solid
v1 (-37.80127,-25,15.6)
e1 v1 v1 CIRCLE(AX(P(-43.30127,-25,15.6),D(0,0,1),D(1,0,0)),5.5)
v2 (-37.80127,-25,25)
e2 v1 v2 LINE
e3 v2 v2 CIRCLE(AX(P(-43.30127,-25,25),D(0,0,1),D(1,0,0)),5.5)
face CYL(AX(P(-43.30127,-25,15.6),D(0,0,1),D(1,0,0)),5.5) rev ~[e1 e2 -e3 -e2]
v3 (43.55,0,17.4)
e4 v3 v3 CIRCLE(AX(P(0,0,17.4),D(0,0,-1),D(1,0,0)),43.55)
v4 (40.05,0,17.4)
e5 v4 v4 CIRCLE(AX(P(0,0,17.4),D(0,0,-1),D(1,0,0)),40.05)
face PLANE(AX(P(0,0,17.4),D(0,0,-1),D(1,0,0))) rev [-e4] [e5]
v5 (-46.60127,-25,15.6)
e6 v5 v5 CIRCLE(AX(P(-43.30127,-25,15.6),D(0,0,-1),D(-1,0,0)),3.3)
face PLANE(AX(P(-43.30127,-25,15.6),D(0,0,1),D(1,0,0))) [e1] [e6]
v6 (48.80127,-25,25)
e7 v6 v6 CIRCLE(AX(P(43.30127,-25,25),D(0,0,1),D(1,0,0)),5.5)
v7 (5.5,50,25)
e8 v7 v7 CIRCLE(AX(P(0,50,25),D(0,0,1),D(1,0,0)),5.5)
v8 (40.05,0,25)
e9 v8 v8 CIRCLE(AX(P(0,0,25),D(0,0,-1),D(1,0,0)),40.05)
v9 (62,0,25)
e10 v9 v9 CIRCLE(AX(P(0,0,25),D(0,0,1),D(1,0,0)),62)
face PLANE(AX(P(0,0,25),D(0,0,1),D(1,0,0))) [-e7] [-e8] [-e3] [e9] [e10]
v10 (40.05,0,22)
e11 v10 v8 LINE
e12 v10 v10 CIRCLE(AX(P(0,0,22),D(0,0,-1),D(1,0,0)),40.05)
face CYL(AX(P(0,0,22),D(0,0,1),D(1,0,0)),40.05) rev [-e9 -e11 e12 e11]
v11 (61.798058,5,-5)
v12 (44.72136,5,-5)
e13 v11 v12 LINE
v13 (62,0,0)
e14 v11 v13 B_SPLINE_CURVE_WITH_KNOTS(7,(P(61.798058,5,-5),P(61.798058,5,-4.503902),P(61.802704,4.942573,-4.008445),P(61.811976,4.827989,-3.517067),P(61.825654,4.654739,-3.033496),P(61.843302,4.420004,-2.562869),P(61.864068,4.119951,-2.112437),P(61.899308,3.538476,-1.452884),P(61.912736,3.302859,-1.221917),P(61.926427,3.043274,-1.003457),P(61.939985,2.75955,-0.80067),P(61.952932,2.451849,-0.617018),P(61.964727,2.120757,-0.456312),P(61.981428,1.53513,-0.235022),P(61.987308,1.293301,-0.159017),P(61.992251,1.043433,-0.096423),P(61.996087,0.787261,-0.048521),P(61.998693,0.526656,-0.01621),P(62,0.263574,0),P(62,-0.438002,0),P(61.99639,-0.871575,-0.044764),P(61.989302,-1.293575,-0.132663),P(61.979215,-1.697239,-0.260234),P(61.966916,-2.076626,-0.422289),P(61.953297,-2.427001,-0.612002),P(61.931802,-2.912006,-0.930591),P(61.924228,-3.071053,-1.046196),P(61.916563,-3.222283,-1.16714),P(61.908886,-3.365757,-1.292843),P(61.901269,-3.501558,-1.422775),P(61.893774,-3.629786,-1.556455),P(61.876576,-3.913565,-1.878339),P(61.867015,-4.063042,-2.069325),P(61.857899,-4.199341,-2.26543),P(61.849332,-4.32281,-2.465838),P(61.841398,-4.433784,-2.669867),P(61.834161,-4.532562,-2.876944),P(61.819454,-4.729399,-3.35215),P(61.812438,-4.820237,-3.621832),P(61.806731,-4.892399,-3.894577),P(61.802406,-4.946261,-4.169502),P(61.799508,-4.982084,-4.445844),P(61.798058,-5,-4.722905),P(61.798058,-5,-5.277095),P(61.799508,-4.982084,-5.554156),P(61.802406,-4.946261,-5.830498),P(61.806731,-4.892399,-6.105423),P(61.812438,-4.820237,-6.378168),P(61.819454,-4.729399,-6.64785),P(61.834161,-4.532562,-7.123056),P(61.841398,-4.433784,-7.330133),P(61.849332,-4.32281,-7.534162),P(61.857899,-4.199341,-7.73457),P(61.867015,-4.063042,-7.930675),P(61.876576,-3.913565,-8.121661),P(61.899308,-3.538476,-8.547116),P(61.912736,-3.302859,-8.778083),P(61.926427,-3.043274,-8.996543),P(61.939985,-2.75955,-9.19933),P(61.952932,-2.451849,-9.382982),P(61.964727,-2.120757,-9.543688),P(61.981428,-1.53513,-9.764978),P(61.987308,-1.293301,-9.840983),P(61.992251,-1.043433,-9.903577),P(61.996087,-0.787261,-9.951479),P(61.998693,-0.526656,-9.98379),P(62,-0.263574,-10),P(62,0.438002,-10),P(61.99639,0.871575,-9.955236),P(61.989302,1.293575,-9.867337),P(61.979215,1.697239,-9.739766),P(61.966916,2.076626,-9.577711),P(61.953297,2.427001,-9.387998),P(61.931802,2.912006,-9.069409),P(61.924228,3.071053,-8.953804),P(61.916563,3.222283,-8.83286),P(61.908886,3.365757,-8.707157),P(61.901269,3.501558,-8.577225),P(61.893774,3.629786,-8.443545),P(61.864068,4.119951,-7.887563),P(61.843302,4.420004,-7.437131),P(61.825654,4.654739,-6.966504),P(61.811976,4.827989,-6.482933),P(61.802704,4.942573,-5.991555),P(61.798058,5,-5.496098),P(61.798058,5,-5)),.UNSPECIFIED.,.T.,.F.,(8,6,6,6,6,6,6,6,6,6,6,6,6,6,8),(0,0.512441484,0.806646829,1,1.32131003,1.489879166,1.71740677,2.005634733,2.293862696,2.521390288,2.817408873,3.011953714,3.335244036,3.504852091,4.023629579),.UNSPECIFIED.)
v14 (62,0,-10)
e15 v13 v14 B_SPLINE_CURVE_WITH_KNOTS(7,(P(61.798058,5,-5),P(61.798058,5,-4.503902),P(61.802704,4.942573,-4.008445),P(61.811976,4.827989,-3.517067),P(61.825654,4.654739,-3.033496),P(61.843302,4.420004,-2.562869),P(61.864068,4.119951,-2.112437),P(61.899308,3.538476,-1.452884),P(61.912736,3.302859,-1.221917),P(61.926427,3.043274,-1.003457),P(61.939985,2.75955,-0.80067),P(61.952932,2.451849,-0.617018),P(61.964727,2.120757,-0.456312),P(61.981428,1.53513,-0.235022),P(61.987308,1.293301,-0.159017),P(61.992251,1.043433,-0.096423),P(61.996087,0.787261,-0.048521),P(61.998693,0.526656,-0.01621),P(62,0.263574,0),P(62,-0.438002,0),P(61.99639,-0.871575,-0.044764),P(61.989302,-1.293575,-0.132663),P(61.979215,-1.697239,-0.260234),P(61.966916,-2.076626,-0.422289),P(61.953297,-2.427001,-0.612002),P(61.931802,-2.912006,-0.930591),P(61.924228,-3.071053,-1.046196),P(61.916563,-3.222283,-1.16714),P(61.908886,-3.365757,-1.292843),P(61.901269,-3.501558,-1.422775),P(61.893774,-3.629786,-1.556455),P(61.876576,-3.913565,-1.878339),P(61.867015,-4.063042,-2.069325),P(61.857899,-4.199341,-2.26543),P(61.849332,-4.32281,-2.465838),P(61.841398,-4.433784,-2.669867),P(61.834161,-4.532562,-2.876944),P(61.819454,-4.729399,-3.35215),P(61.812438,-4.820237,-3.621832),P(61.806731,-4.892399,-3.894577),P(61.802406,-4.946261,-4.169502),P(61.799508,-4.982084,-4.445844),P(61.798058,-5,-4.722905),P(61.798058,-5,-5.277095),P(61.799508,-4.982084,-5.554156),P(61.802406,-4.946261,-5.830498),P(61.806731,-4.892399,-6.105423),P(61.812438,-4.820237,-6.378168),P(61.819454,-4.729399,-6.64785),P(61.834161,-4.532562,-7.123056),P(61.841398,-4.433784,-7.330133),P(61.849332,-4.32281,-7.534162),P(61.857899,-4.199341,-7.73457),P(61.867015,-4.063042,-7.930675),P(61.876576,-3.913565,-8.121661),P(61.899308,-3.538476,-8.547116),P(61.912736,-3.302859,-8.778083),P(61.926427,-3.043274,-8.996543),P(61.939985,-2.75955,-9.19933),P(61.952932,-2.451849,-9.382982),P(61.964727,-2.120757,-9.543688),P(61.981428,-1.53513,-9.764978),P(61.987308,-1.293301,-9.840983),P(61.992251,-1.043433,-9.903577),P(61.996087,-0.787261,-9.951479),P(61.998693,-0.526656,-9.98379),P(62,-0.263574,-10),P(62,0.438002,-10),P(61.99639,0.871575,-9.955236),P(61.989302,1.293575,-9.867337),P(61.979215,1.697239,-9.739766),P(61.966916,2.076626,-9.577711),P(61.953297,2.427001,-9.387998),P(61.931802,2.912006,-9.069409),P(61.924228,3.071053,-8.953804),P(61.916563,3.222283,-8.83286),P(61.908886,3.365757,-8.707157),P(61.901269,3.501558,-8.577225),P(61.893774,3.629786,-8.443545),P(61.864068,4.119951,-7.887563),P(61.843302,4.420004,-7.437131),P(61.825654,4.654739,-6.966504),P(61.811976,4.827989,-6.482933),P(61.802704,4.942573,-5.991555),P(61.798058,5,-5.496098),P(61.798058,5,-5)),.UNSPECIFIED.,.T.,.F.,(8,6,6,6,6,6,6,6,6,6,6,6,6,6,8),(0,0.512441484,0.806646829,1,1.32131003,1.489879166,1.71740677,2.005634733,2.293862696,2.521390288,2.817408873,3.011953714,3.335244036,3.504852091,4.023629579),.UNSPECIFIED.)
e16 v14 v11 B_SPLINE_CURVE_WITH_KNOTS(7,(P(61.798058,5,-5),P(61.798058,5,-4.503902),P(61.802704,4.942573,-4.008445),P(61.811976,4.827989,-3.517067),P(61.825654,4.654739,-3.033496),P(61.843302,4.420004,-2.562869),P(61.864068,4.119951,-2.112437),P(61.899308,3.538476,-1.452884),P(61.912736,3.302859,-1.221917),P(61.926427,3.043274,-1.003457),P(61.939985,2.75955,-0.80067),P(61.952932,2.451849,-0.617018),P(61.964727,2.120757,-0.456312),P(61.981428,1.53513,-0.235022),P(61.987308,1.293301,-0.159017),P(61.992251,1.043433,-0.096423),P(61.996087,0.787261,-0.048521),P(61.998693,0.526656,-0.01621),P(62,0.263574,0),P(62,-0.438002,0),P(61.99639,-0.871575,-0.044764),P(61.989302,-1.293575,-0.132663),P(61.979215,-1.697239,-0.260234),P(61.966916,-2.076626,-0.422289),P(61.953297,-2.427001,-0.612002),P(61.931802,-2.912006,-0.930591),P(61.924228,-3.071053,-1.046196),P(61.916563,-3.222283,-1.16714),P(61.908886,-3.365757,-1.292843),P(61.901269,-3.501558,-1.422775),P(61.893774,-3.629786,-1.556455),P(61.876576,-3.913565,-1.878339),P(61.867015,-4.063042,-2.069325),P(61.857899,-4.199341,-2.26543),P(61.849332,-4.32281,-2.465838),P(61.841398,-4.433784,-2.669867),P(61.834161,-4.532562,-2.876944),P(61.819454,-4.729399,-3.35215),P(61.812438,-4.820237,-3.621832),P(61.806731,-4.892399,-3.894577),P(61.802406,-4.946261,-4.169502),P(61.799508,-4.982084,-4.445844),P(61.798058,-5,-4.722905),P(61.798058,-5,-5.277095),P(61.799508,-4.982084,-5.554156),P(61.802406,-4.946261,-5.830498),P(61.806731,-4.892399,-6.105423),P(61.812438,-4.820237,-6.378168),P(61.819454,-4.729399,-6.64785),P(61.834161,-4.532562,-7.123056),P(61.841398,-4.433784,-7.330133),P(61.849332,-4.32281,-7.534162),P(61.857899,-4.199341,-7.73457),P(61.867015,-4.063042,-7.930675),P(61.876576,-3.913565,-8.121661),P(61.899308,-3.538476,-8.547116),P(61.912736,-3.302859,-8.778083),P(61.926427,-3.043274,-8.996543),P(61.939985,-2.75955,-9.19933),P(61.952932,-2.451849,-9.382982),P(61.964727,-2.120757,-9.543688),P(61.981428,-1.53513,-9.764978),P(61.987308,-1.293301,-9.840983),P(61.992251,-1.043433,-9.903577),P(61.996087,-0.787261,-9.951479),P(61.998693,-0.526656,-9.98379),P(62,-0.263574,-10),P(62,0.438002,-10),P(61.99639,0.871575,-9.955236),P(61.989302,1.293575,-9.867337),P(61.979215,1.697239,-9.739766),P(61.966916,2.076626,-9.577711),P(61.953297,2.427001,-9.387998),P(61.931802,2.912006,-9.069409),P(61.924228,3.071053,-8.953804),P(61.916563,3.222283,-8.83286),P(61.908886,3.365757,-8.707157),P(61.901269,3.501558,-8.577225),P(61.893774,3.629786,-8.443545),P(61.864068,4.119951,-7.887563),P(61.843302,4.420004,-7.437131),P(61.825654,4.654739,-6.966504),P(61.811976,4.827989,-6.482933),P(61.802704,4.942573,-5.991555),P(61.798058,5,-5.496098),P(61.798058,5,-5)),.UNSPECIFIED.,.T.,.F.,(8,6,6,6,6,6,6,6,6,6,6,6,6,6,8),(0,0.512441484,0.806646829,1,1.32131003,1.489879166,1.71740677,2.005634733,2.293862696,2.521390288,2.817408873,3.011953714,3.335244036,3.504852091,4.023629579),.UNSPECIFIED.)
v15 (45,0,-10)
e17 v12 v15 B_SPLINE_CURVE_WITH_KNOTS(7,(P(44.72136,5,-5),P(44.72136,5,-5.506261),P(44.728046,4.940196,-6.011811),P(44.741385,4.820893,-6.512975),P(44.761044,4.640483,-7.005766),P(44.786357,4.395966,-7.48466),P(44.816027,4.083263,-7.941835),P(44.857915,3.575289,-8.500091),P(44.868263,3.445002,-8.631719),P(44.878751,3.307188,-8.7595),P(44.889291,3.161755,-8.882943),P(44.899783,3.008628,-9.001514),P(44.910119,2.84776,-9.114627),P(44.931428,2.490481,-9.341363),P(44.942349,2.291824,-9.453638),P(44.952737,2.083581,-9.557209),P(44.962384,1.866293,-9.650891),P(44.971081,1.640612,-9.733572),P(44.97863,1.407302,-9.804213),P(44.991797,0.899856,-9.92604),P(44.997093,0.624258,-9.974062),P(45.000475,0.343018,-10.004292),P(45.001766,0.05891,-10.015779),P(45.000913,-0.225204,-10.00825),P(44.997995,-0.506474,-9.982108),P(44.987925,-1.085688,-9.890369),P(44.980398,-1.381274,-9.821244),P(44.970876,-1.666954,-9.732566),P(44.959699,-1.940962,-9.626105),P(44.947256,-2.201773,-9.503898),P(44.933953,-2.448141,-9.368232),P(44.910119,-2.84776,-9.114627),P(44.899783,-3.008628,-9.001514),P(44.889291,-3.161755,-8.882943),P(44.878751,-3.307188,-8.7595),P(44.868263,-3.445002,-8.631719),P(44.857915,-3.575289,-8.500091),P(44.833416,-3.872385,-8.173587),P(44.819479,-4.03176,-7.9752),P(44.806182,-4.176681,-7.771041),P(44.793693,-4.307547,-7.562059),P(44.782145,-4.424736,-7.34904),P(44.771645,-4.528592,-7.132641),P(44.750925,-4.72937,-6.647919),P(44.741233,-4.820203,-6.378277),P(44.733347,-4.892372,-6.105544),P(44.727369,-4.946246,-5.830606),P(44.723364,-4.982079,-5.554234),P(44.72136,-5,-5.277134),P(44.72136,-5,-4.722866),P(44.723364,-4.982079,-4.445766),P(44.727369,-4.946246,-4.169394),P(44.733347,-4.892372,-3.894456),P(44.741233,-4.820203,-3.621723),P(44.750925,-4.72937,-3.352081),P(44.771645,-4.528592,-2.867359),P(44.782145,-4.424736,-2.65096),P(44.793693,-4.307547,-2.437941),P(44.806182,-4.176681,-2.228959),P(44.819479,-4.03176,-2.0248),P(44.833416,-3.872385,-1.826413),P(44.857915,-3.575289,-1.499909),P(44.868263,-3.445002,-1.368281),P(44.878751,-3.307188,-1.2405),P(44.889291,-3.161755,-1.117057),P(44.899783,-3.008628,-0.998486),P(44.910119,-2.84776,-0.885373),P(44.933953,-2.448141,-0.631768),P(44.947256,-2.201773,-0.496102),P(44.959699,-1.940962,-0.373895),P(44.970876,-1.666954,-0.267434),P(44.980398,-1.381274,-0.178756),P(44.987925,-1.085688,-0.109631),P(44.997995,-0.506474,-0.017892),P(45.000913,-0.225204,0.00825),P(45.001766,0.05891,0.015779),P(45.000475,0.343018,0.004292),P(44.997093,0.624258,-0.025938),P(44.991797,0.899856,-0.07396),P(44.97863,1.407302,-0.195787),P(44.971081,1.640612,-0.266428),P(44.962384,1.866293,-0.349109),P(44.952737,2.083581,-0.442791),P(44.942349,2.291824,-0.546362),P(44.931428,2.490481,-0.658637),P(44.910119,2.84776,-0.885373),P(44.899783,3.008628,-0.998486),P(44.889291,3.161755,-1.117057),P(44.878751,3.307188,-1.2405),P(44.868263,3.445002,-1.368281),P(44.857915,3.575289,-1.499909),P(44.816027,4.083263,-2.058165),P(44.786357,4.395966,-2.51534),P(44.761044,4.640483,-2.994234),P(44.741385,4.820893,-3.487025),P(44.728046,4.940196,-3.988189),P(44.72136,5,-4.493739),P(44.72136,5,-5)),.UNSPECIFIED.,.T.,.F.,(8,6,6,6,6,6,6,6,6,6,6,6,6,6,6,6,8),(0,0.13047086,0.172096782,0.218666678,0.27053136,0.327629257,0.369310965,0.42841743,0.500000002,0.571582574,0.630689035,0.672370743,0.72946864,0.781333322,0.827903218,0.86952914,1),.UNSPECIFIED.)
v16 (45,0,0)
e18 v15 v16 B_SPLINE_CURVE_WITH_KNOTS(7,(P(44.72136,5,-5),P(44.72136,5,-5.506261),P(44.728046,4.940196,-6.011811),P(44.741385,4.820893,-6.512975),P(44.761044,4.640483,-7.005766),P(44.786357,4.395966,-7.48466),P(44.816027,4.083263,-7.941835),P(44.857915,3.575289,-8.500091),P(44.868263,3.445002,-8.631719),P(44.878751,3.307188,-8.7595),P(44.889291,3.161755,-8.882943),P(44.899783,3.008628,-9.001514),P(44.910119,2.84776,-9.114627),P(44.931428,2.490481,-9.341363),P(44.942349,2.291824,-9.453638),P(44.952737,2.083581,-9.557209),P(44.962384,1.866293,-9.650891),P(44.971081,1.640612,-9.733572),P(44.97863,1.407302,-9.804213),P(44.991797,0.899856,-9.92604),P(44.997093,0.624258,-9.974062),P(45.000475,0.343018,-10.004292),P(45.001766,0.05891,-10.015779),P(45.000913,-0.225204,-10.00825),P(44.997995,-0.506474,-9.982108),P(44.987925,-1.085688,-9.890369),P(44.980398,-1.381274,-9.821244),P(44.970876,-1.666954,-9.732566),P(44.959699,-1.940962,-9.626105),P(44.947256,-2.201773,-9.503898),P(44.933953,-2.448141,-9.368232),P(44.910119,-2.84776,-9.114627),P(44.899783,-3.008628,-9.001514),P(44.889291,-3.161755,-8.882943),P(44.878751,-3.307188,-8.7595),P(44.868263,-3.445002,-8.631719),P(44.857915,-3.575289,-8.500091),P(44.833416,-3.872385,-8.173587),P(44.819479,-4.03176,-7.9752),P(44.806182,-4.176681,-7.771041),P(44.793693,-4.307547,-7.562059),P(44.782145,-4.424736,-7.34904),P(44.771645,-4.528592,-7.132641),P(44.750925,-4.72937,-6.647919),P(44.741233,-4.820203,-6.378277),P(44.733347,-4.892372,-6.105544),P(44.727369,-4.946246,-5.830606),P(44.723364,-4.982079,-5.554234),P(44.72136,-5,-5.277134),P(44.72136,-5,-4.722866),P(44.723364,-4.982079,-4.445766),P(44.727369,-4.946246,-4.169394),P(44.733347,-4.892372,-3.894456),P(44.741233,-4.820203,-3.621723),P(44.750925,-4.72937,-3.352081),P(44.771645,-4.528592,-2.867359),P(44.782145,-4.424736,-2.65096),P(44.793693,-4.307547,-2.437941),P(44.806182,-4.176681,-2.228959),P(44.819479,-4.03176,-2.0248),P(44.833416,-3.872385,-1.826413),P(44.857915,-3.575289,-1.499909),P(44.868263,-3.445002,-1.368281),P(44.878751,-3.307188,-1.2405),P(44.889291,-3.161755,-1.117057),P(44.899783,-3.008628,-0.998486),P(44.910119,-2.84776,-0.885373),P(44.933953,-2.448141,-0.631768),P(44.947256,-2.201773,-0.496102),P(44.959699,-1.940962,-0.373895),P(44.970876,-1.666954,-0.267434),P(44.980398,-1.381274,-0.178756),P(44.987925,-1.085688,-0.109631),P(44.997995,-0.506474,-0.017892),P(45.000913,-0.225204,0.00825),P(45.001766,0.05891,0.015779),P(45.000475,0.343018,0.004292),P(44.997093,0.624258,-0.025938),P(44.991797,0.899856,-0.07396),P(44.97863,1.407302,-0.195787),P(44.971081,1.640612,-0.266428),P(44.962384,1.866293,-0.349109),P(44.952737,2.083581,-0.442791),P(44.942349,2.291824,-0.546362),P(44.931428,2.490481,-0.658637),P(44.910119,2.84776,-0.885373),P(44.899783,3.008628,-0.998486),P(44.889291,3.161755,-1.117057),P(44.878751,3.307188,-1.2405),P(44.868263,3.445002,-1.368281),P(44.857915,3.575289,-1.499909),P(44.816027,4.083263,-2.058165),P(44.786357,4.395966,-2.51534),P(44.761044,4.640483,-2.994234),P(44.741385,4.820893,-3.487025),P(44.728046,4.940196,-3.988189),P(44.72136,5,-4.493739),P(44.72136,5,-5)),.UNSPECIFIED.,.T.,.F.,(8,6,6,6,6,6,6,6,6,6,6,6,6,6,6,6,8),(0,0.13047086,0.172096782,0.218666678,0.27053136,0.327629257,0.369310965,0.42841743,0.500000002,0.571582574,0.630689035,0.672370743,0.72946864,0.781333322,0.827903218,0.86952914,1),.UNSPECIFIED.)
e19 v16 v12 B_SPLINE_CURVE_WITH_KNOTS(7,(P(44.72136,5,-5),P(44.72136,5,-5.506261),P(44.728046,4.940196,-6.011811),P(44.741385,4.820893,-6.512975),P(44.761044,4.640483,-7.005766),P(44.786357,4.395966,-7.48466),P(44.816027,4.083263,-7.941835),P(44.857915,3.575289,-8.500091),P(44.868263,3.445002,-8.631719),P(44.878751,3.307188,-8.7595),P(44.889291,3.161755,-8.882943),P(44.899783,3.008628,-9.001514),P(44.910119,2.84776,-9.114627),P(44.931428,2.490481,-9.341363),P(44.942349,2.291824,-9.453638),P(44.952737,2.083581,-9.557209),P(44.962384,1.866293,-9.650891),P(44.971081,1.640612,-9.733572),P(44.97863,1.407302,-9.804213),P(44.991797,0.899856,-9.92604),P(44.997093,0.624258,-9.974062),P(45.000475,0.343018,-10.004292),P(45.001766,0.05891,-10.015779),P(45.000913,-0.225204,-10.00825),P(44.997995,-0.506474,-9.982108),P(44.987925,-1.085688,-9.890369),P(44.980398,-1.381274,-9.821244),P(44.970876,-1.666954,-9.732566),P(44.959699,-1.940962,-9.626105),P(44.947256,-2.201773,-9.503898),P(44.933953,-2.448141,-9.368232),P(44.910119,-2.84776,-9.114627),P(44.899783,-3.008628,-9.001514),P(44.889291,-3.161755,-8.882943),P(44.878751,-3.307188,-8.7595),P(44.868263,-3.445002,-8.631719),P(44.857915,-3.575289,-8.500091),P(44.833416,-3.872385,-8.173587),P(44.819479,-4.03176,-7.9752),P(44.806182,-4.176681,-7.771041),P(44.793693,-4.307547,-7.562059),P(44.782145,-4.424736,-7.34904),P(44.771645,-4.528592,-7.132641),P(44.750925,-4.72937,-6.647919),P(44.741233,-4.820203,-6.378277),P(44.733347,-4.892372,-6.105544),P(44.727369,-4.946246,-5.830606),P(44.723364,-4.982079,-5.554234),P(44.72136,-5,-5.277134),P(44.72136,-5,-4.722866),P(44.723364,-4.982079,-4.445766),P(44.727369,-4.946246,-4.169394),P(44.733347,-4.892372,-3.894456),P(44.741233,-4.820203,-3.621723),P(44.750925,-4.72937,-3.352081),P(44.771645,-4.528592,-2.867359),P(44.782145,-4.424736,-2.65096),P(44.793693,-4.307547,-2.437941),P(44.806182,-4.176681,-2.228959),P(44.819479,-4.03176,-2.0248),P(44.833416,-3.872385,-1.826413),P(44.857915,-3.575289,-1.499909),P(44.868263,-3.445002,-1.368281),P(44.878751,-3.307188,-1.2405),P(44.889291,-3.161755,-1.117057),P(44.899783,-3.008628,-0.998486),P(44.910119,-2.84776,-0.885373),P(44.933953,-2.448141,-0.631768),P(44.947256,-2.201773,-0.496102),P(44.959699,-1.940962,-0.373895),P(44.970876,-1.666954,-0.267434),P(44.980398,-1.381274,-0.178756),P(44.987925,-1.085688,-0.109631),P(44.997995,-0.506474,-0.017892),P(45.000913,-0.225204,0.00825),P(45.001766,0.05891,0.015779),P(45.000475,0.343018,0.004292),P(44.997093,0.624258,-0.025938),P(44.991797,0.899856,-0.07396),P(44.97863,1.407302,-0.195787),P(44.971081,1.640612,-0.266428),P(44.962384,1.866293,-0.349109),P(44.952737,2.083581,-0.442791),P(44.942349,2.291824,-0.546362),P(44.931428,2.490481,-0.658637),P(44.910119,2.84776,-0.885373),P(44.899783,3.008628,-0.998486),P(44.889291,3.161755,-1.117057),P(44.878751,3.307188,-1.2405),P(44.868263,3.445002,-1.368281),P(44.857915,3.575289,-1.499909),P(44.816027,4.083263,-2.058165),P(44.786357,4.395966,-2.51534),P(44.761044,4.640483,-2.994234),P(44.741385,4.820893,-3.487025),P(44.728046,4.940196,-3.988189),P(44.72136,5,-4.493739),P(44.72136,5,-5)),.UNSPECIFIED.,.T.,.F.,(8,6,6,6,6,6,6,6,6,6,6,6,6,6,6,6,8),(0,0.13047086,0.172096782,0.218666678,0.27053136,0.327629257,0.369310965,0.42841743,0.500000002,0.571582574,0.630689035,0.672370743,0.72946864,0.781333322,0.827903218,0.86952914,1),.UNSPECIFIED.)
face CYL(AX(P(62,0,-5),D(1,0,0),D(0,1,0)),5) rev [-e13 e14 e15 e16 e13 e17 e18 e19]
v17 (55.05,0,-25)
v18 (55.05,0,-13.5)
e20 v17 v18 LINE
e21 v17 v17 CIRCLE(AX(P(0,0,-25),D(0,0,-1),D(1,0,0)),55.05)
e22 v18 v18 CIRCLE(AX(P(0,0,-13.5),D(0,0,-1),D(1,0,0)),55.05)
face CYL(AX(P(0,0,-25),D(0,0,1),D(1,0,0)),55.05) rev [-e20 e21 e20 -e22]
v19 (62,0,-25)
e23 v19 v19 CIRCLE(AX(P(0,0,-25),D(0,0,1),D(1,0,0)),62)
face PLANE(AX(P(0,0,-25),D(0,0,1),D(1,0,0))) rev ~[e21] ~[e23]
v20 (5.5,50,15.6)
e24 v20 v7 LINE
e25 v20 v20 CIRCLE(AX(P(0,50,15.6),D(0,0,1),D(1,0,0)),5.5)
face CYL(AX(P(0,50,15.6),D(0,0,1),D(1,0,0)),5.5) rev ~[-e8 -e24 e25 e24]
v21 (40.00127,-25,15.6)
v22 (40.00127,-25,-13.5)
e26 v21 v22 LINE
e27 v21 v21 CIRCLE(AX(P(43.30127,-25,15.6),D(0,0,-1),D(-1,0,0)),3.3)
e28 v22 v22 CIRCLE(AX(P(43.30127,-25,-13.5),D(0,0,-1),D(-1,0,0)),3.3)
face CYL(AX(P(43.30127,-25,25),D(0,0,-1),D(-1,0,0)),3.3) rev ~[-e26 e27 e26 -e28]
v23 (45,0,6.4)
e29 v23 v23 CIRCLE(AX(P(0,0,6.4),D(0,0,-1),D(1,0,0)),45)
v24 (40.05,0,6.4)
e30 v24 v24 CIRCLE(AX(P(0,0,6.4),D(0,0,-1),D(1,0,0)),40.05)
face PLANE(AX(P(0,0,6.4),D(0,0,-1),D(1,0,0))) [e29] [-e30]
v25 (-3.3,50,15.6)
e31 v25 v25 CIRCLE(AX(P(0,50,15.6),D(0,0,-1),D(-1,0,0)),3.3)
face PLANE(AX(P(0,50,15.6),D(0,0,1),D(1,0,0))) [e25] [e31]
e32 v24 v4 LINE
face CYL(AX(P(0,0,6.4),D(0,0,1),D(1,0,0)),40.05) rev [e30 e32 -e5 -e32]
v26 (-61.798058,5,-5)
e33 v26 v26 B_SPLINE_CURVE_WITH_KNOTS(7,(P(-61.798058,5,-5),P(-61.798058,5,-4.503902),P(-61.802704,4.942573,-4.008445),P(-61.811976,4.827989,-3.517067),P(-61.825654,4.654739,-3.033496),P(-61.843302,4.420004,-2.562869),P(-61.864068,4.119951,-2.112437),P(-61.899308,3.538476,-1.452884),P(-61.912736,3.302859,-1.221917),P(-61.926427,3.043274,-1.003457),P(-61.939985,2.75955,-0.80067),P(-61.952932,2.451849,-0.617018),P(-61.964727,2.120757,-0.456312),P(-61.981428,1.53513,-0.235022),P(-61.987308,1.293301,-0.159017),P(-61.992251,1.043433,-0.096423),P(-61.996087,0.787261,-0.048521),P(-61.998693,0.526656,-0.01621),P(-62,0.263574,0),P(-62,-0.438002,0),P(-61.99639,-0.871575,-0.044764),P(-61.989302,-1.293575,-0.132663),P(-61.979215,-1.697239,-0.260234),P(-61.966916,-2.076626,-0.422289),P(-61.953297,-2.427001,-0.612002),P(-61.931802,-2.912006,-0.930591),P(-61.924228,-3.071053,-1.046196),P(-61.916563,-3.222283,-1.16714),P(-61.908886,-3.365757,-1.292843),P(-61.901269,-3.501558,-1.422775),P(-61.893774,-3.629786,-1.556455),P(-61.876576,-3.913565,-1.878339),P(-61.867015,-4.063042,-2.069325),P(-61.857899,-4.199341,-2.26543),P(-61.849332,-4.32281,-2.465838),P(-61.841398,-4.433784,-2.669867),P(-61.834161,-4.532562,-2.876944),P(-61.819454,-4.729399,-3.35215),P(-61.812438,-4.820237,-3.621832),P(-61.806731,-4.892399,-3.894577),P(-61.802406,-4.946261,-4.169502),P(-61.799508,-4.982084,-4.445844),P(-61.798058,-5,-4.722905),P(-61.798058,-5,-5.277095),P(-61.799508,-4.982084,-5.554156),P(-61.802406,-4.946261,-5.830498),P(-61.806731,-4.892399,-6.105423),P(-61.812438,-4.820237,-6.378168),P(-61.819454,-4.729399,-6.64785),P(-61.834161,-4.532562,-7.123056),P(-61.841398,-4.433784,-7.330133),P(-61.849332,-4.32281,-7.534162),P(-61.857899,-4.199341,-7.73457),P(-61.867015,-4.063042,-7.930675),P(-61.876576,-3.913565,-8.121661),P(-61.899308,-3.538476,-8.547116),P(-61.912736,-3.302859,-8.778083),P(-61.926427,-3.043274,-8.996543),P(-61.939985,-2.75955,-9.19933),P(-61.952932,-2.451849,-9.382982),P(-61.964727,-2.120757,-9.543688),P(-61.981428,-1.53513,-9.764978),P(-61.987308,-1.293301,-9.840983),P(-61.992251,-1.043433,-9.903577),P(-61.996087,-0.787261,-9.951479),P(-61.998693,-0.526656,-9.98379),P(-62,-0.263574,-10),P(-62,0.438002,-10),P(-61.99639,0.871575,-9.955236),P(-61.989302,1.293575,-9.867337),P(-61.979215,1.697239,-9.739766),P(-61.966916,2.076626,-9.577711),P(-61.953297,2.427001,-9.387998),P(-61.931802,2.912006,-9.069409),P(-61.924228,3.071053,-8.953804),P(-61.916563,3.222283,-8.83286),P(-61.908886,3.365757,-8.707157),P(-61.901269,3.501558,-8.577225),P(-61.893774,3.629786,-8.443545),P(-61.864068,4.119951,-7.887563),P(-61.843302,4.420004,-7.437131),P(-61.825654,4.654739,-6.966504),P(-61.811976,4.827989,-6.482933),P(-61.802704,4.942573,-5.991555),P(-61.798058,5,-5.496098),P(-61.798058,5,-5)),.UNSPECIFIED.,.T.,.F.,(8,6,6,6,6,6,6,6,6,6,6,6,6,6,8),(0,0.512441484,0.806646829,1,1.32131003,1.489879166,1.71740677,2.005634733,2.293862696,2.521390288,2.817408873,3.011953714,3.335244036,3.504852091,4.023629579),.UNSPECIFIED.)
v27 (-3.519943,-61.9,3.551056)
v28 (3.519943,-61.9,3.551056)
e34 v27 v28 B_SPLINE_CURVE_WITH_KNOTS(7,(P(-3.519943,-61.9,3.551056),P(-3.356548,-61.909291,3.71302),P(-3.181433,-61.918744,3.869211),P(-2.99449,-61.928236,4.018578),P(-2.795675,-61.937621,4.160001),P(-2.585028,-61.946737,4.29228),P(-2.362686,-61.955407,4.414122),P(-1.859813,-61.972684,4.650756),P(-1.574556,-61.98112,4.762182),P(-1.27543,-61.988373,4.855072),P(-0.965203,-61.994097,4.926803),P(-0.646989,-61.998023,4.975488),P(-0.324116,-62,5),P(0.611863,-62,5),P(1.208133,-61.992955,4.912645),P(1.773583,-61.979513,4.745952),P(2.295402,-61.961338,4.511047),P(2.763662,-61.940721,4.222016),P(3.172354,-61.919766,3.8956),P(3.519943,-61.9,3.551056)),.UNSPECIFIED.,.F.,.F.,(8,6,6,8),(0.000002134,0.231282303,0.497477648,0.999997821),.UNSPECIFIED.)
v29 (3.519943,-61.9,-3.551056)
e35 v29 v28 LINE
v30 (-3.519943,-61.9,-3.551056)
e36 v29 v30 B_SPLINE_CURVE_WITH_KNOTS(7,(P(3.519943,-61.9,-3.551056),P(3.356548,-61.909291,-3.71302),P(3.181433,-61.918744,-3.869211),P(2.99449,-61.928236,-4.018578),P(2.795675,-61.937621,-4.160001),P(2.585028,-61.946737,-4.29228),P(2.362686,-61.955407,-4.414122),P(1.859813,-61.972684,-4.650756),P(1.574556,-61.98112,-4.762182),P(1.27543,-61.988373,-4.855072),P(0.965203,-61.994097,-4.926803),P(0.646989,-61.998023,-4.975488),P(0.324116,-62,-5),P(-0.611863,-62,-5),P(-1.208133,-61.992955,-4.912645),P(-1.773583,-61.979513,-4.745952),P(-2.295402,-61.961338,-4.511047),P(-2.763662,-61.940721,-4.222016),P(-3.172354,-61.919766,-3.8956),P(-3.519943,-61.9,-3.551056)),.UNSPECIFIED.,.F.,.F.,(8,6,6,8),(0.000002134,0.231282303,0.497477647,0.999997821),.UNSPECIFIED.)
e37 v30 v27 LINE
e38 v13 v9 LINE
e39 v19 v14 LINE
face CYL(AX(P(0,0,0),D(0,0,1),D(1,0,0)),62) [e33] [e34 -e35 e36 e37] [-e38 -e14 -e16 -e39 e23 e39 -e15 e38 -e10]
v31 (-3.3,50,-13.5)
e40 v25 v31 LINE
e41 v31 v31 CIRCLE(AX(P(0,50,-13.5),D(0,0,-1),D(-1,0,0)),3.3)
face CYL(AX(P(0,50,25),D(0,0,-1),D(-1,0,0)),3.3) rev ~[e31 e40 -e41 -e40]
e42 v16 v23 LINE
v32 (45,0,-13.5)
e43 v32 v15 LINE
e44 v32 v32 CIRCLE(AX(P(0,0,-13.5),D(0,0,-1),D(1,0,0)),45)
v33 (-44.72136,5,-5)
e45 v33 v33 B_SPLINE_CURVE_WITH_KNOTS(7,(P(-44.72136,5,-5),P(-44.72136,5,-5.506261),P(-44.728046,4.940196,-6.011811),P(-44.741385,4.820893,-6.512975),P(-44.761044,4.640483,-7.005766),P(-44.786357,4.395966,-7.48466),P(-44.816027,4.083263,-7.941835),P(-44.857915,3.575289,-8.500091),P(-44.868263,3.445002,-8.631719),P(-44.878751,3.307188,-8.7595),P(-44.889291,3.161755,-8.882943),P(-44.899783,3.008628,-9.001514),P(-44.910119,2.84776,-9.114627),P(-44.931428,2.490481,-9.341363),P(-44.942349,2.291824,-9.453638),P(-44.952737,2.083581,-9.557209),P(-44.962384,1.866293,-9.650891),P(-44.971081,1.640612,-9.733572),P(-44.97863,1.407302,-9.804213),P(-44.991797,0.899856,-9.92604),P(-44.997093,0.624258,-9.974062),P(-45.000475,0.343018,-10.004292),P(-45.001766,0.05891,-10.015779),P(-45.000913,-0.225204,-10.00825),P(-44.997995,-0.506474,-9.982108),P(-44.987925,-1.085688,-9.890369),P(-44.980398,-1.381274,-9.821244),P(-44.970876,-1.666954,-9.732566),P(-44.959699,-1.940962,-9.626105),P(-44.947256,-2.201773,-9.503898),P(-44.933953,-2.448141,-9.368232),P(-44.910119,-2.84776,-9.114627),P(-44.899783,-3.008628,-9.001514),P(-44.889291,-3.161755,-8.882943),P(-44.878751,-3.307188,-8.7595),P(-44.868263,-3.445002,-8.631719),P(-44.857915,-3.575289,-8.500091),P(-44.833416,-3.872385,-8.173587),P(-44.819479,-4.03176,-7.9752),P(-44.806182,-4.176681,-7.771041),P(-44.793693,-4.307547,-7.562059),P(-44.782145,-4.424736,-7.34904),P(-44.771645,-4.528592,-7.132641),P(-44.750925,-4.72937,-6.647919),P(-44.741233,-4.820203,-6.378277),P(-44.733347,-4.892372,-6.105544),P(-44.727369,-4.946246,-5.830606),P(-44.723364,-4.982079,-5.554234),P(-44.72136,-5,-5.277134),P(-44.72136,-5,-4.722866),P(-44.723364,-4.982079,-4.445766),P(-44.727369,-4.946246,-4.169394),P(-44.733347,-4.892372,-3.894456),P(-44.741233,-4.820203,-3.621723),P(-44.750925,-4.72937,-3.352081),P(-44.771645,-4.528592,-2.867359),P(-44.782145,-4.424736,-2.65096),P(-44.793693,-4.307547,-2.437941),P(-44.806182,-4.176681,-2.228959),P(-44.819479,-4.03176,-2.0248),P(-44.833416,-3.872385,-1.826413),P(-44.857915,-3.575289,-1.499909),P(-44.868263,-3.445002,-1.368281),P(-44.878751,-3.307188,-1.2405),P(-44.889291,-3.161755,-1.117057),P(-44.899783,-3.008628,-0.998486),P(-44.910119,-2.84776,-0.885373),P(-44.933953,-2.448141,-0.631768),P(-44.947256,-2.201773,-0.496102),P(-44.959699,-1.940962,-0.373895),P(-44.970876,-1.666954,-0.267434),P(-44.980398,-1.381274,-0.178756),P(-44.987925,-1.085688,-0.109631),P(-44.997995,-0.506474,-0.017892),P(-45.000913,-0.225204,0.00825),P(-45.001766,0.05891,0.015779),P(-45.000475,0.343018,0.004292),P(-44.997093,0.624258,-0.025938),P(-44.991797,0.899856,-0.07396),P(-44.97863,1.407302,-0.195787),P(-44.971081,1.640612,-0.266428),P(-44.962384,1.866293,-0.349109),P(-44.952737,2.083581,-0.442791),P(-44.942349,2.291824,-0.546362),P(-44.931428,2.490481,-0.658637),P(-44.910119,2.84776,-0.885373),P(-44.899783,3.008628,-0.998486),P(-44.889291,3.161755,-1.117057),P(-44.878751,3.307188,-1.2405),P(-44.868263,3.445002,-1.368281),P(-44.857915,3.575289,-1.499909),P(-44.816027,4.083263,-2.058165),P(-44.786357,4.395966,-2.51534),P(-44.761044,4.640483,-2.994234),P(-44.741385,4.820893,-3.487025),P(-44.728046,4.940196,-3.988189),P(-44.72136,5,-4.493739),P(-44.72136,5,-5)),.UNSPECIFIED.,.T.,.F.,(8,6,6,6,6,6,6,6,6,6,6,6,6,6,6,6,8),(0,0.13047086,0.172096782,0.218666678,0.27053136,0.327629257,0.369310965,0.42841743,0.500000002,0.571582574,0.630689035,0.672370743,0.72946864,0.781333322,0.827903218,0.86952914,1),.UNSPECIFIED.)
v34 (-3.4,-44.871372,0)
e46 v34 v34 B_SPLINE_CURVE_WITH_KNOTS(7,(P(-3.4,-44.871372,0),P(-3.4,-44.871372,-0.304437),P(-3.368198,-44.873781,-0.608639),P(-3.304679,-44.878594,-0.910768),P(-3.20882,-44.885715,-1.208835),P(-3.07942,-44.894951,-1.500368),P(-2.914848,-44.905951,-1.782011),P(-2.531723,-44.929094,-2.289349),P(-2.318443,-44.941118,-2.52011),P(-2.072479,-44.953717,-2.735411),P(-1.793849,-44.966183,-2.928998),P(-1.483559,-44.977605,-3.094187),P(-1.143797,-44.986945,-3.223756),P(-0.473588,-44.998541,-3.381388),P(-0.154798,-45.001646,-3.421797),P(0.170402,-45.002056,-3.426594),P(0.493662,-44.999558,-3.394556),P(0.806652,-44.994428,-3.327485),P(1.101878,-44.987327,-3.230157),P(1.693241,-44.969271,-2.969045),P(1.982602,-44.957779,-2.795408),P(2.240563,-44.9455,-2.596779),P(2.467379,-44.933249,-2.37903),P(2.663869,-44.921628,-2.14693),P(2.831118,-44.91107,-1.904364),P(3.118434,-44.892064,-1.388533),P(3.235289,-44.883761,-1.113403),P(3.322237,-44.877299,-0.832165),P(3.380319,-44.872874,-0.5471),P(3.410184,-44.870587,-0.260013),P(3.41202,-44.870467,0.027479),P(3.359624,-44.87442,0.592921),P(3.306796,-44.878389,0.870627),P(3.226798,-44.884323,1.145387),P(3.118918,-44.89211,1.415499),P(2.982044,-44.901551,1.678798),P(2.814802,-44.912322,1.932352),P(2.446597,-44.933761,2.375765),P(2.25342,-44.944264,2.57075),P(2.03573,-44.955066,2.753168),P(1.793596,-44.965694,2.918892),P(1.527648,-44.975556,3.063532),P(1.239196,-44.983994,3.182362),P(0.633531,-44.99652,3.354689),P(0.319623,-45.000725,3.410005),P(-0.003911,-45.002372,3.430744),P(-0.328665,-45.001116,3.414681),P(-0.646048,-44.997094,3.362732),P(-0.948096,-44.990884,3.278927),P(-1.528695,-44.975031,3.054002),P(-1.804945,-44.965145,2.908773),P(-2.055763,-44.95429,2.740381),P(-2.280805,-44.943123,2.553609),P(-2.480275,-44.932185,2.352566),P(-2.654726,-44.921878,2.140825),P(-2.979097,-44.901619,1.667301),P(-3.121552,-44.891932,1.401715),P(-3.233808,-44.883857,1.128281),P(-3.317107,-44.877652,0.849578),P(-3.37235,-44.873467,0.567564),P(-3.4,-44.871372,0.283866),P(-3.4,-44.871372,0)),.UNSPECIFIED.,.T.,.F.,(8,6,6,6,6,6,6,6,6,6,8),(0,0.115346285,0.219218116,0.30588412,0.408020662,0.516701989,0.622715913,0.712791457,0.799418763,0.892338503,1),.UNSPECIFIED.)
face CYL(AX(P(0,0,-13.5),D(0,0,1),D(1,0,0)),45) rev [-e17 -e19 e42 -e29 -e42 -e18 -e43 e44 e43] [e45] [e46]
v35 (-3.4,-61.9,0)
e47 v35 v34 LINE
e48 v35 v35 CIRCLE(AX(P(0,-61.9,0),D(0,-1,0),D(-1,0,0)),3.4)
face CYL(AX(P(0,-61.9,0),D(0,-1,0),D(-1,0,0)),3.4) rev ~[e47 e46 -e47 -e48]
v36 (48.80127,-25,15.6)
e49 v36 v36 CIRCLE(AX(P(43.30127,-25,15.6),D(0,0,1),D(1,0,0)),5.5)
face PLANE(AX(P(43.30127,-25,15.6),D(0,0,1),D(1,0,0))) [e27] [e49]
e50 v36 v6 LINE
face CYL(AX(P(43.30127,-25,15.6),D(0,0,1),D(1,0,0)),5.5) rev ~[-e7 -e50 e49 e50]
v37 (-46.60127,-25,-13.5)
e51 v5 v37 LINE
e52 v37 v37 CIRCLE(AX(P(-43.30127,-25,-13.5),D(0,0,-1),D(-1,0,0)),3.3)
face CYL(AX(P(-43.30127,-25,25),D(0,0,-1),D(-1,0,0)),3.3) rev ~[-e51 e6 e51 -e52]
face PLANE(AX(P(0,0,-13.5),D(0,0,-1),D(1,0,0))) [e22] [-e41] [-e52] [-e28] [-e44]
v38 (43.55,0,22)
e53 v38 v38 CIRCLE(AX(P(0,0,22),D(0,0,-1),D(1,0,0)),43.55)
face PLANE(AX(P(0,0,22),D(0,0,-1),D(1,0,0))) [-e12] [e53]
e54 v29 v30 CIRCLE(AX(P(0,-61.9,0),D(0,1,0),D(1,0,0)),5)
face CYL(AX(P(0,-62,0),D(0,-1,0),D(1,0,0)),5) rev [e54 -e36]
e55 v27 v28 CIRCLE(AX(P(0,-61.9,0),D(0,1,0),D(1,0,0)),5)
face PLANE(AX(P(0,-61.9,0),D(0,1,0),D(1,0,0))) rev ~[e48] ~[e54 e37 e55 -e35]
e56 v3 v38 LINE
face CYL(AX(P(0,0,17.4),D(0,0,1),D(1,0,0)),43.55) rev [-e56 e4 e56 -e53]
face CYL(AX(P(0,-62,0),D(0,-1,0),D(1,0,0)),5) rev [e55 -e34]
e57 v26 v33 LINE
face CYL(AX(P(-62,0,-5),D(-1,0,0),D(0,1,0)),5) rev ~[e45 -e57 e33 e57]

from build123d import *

# Parameters (mm, degrees)
SKIZZE1_R                                            = 62
LINEAR_AUSTRAGEN1_DEPTH                              = 25
STIRNSENKUNG_F_R_M6_ZYLINDERSCHRAUBE_MIT_D           = 6.6
STIRNSENKUNG_F_R_M6_ZYLINDERSCHRAUBE_MIT_CBORE_D     = 11
STIRNSENKUNG_F_R_M6_ZYLINDERSCHRAUBE_MIT_CBORE_DEPTH = 9.4
F_12_0_12_DURCHMESSER_BOHRUNG1_REACH                 = 142.872
F_12_0_12_DURCHMESSER_BOHRUNG1_BORE_R                = 5
SKIZZE10_R                                           = 5
SCHNITT_LINEAR_AUSTRAGEN3_DEPTH                      = 0.1
M8_GEWINDEBOHRUNG3_REACH                             = 142.784
M8_GEWINDEBOHRUNG3_BORE_R                            = 3.4


with BuildPart() as part:
    # Skizze1 → Linear austragen1 (new, symmetric)
    with BuildSketch(Plane.XY):
        Circle(SKIZZE1_R)
    extrude(amount=LINEAR_AUSTRAGEN1_DEPTH, both=True)

    # Skizze2 → Schnitt-Rotation1 (revolve, cut)
    with BuildSketch(Plane(origin=(0, 0, 0), x_dir=(0, 0, -1), z_dir=(1, 0, 0)), mode=Mode.PRIVATE) as schnitt_rotation1_sk:
        Polygon((25, 55.05), (13.5, 55.05), (13.5, 45), (-6.4, 45), (-6.4, 40.05), (-17.4, 40.05), (-17.4, 43.55), (-22, 43.55), (-22, 40.05), (-25, 40.05), (-25, 0), (25, 0), align=None)
    revolve(schnitt_rotation1_sk.sketch.rotate(Axis((0, 0, 0), (0, 0, -1)), 90), axis=Axis((0, 0, 0), (0, 0, -1)), mode=Mode.SUBTRACT)

    # Stirnsenkung für M6 Zylinderschraube mit Innensechskant1 (through all)
    with Locations(Plane(origin=(-59.191094396, 8.680738145, 25), x_dir=(1, 0, 0), z_dir=(0, 0, 1))):
        with Locations((59.191094396, 41.319261855), (102.492364585, -33.680738145), (15.889824207, -33.680738145)):
            CounterBoreHole(STIRNSENKUNG_F_R_M6_ZYLINDERSCHRAUBE_MIT_D / 2, STIRNSENKUNG_F_R_M6_ZYLINDERSCHRAUBE_MIT_CBORE_D / 2, STIRNSENKUNG_F_R_M6_ZYLINDERSCHRAUBE_MIT_CBORE_DEPTH)

    # Ø12.0 (12) Durchmesser Bohrung1 bore → Ø12.0 (12) Durchmesser Bohrung1 (cut, up to next)
    with BuildSketch(Plane(origin=(-62, 0, 0), x_dir=(0, 1, 0), z_dir=(-1, 0, 0)), mode=Mode.PRIVATE) as f_12_0_12_durchmesser_bohrung1_sk1:
        with Locations((0, 5)):
            Circle(F_12_0_12_DURCHMESSER_BOHRUNG1_BORE_R)
    f_12_0_12_durchmesser_bohrung1_tool1 = extrude(f_12_0_12_durchmesser_bohrung1_sk1.sketch, amount=-F_12_0_12_DURCHMESSER_BOHRUNG1_REACH, mode=Mode.PRIVATE) & part.part
    f_12_0_12_durchmesser_bohrung1 = f_12_0_12_durchmesser_bohrung1_tool1.solids().sort_by_distance((-62, 0, -5))[0]
    add(f_12_0_12_durchmesser_bohrung1, mode=Mode.SUBTRACT)

    # Spiegeln1: Ø12.0 (12) Durchmesser Bohrung1 across plane
    add(f_12_0_12_durchmesser_bohrung1.mirror(Plane(origin=(0, 0, 0), x_dir=(0, 0, 1), z_dir=(1, 0, 0))), mode=Mode.SUBTRACT)

    # Skizze10 → Schnitt-Linear austragen3 (cut)
    with BuildSketch(Plane(origin=(0, -62, 0), x_dir=(1, 0, 0), z_dir=(0, 1, 0))):
        Circle(SKIZZE10_R)
    extrude(amount=SCHNITT_LINEAR_AUSTRAGEN3_DEPTH, mode=Mode.SUBTRACT)

    # M8 Gewindebohrung3 bore → M8 Gewindebohrung3 (cut, up to next)
    with BuildSketch(Plane(origin=(0, -61.9, 0), x_dir=(-1, 0, 0), z_dir=(0, -1, 0)), mode=Mode.PRIVATE) as m8_gewindebohrung3_sk1:
        Circle(M8_GEWINDEBOHRUNG3_BORE_R)
    m8_gewindebohrung3_tool1 = extrude(m8_gewindebohrung3_sk1.sketch, amount=-M8_GEWINDEBOHRUNG3_REACH, mode=Mode.PRIVATE) & part.part
    add(m8_gewindebohrung3_tool1.solids().sort_by_distance((0, -61.9, 0))[0], mode=Mode.SUBTRACT)


solid = part.part
